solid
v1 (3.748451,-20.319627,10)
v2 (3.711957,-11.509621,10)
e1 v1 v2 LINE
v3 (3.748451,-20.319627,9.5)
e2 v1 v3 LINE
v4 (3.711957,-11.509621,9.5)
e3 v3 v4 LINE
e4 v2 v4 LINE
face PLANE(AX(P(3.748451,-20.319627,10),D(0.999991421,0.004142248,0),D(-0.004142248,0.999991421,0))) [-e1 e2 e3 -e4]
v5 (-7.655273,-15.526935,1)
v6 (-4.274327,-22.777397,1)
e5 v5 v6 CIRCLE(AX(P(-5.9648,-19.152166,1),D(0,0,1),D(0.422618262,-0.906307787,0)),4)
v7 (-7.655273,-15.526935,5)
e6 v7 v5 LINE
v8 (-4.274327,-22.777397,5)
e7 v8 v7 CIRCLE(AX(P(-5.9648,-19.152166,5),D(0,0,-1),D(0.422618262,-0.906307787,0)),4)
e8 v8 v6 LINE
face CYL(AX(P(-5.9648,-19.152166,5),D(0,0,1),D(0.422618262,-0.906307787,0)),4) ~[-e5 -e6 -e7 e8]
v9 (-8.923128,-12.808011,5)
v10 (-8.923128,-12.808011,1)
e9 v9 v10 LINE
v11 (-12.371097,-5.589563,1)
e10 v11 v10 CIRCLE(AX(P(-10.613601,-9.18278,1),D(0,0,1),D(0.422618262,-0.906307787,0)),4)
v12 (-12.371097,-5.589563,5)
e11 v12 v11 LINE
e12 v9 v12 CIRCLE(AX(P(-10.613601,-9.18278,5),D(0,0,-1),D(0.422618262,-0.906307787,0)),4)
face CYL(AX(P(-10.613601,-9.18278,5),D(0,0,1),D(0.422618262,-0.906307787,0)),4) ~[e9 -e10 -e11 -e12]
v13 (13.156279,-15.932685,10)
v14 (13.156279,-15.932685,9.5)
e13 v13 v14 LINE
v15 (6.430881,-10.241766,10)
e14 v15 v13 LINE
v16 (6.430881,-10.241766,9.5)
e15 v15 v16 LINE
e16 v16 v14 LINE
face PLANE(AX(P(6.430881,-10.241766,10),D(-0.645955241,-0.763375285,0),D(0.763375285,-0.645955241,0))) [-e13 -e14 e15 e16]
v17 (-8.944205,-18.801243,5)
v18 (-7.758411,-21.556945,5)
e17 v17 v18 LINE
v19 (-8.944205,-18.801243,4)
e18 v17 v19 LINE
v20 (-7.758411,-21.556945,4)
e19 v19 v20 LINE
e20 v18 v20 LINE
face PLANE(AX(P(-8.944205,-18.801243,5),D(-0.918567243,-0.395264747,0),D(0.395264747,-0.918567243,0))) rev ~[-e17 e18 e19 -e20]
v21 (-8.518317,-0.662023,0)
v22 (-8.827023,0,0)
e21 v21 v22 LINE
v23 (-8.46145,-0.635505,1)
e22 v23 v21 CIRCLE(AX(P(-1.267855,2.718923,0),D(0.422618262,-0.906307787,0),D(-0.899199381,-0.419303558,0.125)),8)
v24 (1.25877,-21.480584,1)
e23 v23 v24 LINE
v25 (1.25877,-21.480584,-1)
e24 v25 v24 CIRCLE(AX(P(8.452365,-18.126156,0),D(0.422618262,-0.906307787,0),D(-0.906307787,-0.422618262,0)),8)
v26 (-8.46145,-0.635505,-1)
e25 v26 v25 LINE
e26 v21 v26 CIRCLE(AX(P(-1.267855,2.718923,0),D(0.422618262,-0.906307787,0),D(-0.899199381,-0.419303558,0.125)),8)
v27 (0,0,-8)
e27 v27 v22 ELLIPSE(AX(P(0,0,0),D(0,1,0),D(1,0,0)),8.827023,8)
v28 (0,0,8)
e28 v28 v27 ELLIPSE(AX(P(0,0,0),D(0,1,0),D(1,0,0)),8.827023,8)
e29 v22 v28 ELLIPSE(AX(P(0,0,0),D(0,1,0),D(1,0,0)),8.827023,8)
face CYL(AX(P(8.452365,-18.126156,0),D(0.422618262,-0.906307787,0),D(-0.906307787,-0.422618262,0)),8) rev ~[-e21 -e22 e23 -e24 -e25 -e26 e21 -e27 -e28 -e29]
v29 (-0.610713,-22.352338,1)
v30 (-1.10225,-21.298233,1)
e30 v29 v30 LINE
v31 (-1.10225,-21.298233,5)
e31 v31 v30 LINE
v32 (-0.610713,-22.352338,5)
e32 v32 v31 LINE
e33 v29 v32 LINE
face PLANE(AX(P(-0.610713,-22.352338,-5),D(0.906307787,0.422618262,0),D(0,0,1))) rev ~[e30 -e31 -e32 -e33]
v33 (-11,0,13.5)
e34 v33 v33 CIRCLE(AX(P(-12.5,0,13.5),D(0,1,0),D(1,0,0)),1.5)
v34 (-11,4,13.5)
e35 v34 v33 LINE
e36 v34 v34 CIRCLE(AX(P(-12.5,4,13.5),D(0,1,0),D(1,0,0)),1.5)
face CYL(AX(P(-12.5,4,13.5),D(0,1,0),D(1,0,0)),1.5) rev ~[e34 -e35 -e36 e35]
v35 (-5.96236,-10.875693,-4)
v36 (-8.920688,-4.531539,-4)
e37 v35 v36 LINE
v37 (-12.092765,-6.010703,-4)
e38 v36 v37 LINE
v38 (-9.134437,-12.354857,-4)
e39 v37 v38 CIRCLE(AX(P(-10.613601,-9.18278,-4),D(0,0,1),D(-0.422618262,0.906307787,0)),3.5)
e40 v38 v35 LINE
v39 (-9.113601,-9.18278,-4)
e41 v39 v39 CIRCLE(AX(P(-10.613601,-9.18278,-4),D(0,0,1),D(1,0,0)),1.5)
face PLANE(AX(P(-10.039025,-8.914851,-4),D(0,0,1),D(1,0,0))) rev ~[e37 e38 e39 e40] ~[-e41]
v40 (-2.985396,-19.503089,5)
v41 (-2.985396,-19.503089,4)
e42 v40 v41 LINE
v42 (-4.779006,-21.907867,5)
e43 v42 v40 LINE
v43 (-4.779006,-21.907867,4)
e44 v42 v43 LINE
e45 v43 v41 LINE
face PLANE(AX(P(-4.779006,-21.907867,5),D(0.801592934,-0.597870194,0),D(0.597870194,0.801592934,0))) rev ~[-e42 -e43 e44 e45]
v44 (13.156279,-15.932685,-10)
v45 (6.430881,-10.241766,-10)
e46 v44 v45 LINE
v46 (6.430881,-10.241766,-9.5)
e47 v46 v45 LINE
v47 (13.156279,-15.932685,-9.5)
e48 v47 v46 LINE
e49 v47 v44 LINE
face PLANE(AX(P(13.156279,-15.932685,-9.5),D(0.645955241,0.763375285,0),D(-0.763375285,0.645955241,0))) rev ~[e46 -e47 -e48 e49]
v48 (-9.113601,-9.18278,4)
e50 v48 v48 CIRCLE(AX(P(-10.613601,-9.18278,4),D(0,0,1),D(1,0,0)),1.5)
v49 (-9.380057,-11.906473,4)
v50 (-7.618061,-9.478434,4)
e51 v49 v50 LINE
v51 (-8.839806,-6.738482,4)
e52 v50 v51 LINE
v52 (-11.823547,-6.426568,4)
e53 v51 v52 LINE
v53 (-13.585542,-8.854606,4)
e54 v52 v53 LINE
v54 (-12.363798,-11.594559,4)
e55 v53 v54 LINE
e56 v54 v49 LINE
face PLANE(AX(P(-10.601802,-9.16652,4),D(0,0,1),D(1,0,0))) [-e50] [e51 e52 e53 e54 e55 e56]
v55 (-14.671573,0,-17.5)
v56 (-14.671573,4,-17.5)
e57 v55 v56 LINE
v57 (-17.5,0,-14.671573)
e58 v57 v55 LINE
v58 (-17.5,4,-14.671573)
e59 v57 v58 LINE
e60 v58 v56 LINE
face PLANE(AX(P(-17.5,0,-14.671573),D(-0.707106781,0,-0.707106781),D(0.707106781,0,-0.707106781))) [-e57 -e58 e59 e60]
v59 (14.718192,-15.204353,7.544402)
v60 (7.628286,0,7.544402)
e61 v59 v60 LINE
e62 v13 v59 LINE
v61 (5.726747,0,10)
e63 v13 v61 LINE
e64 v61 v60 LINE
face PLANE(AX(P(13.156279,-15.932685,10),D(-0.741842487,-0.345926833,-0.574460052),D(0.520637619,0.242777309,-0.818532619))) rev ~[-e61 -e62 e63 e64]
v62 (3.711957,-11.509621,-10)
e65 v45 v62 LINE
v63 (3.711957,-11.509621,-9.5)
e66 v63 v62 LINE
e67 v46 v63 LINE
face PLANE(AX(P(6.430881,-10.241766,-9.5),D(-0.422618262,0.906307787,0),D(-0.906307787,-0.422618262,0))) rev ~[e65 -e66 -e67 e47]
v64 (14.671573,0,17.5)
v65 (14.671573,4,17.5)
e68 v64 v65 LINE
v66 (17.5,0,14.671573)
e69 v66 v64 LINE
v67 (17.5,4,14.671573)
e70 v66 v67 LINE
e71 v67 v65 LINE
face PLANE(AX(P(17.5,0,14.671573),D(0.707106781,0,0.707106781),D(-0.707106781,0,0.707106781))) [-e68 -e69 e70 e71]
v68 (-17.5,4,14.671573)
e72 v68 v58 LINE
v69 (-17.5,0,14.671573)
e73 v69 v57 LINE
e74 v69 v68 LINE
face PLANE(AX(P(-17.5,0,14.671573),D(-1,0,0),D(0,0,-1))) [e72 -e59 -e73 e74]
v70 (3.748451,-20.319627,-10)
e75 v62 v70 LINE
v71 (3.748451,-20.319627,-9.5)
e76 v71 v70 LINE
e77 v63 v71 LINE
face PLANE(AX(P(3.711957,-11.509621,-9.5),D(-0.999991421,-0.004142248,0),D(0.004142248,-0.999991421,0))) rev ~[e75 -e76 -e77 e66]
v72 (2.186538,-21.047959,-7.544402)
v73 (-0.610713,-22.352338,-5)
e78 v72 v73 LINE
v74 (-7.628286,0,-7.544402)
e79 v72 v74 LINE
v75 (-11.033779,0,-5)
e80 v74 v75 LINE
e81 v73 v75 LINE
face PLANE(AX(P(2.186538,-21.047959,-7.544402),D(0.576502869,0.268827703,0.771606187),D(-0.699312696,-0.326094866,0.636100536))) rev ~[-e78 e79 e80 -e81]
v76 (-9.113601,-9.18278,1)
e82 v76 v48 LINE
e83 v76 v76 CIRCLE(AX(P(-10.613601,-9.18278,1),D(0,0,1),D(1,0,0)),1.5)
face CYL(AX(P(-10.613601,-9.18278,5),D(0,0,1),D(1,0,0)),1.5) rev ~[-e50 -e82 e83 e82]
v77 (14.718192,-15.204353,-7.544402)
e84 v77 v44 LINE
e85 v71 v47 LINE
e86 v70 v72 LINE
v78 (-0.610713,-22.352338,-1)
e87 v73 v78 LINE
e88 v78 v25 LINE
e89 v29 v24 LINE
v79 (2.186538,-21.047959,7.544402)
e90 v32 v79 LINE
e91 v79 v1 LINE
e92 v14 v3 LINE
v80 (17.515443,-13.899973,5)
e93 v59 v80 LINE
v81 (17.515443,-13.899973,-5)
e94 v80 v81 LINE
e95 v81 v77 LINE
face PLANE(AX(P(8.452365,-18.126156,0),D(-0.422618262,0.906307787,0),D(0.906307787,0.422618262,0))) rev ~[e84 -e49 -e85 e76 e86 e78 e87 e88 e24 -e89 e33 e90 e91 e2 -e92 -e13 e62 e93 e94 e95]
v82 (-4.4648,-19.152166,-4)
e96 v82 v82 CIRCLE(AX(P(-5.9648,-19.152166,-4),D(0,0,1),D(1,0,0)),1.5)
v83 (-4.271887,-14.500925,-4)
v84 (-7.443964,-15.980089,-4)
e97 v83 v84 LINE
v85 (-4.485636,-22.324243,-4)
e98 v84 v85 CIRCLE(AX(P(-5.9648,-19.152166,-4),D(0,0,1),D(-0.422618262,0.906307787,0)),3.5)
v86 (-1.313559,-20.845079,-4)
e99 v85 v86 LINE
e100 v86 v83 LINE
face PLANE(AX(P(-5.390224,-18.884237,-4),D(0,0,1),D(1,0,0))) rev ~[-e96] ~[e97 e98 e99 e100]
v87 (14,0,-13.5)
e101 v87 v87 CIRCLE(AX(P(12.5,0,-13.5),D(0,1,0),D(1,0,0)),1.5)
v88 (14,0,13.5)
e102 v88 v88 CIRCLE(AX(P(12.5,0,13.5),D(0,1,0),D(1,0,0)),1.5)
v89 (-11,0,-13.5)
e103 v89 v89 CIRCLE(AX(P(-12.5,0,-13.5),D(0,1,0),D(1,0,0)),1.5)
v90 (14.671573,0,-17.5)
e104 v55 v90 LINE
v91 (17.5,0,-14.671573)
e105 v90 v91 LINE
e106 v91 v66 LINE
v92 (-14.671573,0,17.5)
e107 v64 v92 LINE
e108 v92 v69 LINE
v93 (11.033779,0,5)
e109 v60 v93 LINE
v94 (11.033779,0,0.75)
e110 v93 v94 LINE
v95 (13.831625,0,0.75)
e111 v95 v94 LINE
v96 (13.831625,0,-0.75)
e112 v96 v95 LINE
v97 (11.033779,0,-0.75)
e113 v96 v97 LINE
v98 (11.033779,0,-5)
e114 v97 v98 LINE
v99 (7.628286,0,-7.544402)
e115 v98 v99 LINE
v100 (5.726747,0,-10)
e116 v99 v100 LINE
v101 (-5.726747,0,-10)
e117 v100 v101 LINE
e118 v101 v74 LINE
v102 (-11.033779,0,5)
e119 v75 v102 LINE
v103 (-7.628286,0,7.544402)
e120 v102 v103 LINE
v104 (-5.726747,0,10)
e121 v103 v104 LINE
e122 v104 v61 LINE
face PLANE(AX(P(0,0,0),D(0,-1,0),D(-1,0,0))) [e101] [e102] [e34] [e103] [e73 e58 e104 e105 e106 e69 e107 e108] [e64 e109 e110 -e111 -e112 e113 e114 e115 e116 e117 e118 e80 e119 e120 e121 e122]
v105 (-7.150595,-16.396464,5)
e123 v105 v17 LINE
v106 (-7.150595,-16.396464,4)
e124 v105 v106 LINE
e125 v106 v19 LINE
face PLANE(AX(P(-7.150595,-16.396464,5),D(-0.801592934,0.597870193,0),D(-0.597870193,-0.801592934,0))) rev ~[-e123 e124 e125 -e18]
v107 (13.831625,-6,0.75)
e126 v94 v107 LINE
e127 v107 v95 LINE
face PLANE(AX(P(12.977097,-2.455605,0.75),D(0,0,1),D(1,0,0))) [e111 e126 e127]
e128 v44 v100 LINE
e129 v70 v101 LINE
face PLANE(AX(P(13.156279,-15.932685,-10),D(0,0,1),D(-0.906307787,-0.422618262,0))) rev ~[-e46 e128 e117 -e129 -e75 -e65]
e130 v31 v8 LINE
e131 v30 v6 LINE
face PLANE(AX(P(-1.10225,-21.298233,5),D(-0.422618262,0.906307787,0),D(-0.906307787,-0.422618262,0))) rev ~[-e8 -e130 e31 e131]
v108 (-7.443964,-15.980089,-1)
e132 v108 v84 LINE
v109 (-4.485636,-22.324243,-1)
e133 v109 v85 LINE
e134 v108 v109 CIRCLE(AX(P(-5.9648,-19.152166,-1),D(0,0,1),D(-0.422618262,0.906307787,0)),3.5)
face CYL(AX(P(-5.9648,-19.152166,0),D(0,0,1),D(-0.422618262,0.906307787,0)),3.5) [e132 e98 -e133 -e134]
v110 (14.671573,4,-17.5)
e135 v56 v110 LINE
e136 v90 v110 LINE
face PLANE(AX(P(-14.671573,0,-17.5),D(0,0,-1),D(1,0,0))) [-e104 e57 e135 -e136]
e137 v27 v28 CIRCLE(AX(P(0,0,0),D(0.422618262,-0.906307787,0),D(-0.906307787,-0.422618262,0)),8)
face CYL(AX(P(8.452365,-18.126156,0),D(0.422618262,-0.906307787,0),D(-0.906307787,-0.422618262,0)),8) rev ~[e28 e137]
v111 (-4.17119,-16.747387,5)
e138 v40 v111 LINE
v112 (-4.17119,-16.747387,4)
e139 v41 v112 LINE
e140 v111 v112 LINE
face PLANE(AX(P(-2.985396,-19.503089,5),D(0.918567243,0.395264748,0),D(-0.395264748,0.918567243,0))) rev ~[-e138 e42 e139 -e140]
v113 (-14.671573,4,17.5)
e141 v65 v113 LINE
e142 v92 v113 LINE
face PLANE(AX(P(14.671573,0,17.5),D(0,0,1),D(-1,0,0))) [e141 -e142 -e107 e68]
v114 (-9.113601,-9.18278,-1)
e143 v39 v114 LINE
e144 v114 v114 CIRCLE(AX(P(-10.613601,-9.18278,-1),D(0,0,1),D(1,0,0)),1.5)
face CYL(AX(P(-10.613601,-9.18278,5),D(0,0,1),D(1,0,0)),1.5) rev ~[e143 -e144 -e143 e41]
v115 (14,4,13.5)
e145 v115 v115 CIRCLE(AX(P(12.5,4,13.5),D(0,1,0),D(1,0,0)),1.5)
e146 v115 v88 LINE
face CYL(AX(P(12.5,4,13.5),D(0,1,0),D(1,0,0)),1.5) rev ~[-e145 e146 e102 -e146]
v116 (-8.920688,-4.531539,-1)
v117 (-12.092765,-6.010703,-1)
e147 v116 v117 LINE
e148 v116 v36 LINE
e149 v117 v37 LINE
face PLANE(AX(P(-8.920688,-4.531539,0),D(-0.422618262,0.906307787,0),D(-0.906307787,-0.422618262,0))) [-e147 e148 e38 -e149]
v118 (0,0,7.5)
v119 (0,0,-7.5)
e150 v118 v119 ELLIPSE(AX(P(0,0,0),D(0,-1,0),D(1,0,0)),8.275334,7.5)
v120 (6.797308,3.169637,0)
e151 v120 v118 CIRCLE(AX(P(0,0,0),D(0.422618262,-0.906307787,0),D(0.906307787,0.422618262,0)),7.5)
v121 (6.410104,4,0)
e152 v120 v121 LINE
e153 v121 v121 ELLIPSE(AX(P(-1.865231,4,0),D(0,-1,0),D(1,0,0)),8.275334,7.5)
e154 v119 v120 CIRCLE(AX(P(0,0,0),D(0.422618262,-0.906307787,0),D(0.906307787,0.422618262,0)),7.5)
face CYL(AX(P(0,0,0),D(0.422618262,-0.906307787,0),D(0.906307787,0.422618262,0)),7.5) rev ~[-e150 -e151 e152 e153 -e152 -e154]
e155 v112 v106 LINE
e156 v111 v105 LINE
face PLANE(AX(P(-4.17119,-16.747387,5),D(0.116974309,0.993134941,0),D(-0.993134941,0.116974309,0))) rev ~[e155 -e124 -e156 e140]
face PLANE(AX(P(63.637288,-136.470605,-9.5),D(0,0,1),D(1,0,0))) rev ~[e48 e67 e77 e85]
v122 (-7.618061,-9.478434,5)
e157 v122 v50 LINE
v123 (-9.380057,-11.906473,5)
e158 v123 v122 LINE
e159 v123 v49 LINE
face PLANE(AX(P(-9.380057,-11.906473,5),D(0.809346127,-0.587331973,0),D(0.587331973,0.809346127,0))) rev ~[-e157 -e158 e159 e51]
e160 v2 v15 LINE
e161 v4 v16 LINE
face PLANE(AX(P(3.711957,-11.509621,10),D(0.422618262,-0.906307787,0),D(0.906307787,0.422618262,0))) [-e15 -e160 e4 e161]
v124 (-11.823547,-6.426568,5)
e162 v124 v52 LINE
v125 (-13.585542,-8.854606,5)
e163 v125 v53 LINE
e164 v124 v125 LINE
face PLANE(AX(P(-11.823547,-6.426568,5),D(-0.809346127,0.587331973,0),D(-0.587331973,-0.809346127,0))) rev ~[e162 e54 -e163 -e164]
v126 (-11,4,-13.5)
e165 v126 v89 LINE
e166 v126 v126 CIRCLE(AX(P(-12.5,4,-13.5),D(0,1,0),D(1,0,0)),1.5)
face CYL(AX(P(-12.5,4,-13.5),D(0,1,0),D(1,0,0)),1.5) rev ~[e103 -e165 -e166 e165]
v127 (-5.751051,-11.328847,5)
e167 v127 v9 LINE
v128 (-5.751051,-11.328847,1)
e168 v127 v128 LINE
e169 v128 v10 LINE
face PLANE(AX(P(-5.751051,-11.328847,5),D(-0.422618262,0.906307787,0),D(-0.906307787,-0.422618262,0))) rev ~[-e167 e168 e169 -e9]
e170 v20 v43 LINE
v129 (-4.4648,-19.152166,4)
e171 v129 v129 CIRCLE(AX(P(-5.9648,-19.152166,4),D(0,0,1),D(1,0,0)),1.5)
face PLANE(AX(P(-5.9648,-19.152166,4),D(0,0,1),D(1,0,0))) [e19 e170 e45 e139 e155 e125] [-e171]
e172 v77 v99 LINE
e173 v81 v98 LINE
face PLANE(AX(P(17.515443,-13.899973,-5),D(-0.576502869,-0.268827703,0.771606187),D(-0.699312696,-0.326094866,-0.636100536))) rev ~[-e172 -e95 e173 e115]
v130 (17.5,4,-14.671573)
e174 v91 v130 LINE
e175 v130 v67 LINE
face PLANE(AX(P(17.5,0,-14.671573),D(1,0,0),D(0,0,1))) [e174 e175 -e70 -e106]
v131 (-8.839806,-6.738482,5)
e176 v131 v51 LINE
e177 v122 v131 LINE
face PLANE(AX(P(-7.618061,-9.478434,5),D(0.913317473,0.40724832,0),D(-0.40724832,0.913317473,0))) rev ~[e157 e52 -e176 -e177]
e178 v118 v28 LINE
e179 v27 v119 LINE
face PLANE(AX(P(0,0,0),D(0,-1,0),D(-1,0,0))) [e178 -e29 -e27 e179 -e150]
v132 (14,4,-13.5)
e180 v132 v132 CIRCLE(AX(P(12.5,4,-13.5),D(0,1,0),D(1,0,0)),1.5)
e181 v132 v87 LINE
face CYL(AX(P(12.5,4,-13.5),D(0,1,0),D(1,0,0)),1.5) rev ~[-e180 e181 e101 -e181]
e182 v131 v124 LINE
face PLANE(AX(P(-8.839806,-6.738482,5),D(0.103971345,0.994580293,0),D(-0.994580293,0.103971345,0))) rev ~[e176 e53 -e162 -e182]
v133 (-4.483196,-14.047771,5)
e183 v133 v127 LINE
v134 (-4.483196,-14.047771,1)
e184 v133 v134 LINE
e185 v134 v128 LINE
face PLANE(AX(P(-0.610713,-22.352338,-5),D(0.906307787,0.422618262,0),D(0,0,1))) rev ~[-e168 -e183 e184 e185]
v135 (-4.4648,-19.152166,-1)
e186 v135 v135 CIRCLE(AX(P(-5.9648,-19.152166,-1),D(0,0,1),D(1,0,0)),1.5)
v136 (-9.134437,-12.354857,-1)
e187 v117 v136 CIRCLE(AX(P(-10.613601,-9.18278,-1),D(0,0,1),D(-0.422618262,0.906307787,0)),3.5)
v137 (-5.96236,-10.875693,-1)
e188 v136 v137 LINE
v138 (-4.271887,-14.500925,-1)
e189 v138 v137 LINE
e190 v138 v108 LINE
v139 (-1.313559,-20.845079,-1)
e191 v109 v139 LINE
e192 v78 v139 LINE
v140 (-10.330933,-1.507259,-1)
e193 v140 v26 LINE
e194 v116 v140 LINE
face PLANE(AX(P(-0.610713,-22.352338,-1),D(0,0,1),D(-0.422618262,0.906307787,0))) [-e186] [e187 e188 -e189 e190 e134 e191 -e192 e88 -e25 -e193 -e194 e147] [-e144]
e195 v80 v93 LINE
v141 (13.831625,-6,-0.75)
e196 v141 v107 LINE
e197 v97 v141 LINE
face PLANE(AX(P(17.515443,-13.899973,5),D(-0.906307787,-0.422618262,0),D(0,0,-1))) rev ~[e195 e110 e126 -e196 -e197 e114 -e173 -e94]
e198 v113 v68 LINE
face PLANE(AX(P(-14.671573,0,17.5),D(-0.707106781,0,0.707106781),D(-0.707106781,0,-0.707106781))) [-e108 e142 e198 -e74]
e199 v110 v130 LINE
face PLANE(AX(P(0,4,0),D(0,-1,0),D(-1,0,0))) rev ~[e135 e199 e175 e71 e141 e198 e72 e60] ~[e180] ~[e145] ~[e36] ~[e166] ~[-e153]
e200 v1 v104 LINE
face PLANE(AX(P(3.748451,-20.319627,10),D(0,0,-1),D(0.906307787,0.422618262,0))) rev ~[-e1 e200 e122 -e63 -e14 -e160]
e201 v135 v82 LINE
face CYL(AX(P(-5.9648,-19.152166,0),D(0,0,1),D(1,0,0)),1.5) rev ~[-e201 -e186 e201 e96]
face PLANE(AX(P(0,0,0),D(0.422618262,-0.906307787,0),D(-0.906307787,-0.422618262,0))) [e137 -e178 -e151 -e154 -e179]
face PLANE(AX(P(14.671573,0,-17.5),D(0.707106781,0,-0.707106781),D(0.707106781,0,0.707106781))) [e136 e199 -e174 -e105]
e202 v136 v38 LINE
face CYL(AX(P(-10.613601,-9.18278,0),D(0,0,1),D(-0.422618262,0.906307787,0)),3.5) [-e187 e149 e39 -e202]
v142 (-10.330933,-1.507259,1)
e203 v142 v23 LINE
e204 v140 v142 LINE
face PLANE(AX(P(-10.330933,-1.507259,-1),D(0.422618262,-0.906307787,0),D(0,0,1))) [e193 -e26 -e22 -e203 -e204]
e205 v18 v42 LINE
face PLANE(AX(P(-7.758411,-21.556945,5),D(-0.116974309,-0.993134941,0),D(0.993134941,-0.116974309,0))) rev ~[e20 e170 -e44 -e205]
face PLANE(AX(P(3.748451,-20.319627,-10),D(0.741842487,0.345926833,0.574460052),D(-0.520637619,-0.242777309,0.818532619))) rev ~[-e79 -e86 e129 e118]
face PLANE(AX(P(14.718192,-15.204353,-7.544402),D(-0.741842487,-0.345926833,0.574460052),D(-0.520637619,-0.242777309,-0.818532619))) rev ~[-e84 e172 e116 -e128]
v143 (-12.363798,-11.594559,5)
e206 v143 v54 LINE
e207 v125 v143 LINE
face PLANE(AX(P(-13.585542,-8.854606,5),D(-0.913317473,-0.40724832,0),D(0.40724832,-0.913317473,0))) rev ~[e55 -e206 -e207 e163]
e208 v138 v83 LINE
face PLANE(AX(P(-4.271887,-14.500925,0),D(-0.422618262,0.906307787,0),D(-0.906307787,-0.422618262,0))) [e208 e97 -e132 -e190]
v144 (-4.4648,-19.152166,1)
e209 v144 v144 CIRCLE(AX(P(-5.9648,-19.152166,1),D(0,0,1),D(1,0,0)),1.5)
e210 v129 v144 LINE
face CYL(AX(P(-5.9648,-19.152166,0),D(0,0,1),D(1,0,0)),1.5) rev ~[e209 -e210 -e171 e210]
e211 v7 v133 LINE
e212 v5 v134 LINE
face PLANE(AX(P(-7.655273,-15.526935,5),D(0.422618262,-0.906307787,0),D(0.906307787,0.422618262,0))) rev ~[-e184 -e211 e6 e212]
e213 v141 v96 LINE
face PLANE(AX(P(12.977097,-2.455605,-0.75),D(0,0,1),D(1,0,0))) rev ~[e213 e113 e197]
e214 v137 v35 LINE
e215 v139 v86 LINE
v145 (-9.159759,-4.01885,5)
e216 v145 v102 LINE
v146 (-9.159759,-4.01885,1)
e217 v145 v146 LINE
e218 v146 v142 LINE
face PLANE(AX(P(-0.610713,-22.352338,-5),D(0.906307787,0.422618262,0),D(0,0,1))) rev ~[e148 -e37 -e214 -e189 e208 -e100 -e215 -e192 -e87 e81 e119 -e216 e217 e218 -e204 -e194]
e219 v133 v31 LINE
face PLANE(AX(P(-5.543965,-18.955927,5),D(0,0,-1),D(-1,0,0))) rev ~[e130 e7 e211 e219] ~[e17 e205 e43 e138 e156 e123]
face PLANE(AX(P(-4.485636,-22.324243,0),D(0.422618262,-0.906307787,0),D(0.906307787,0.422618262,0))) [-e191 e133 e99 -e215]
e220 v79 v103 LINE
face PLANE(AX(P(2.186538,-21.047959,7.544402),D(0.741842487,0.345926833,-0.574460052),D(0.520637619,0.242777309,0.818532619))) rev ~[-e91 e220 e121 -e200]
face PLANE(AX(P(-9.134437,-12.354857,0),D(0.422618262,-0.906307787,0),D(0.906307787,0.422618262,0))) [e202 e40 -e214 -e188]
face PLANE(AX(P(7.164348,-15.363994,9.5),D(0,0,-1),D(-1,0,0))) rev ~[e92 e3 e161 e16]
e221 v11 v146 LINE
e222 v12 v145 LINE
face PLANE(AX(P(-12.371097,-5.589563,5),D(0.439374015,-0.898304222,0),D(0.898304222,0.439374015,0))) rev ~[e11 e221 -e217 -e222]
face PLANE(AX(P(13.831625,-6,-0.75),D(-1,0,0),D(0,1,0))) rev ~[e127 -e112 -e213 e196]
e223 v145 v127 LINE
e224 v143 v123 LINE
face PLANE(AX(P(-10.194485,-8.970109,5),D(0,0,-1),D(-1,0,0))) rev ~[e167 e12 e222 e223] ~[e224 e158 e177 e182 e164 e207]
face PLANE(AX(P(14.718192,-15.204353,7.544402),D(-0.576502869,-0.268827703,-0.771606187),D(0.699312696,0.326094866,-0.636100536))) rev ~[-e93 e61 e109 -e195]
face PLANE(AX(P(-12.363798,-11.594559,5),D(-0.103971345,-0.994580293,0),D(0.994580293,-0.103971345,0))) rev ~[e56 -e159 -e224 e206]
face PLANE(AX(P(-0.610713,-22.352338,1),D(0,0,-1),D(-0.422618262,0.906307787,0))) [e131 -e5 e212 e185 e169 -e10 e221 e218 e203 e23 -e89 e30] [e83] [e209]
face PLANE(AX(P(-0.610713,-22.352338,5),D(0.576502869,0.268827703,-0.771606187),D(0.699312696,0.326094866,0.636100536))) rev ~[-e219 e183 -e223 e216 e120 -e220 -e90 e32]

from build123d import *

# Parameters (mm, degrees)
BOSS_EXTRUDE1_DEPTH            = 4
SKETCH2_R                      = 1.5
CUT_EXTRUDE1_DEPTH             = 26.069902273
BOSS_EXTRUDE2_REACH            = 56.739
SKETCH4_R                      = 8
SKETCH5_R                      = 8
CUT_EXTRUDE2_DEPTH             = 20
BOSS_EXTRUDE3_DEPTH            = 0.75
BOSS_EXTRUDE3_DEPTH_BACK       = 0.75
SKETCH8_R                      = 1.5
BOSS_EXTRUDE4_DEPTH            = 4
BOSS_EXTRUDE5_START            = 5
SKETCH9_R                      = 1.5
BOSS_EXTRUDE5_DEPTH            = 5
CUT_EXTRUDE3_REACH             = 39.025
CUT_EXTRUDE3_END_RADIUS        = 8
SKETCH10_W                     = 2
SKETCH10_H                     = 23
CUT_EXTRUDE3_DIRECTION_2_DEPTH = 38.025134912
CUT_EXTRUDE4_DEPTH             = 0.5
CUT_EXTRUDE5_DEPTH             = 40.98829237
CUT_EXTRUDE5_DEPTH_BACK        = 0.5
SKETCH13_R                     = 7.5
CUT_EXTRUDE6_DEPTH             = 34.897839558
SKETCH14_R                     = 1.5
CUT_EXTRUDE7_DEPTH             = 1


with BuildPart() as part:
    # Sketch1 → Boss-Extrude1 (new body)
    with BuildSketch(Plane(origin=(0, 0, 0), x_dir=(1, 0, 0), z_dir=(0, 1, 0))):
        Polygon((-17.5, 14.671572875), (-14.671572875, 17.5), (14.671572875, 17.5), (17.5, 14.671572875), (17.5, -14.671572875), (14.671572875, -17.5), (-14.671572875, -17.5), (-17.5, -14.671572875), align=None)
    extrude(amount=BOSS_EXTRUDE1_DEPTH)

    # Sketch2 → Cut-Extrude1 (cut, through all)
    with BuildSketch(Plane(origin=(0, 4, 0), x_dir=(1, 0, 0), z_dir=(0, 1, 0))):
        with Locations((-12.5, 13.5)):
            Circle(SKETCH2_R)
        with Locations((12.5, 13.5)):
            Circle(SKETCH2_R)
        with Locations((-12.5, -13.5)):
            Circle(SKETCH2_R)
        with Locations((12.5, -13.5)):
            Circle(SKETCH2_R)
    extrude(amount=-CUT_EXTRUDE1_DEPTH, mode=Mode.SUBTRACT)

    # Boss-Extrude2: up to this plane
    boss_extrude2_end = Plane(origin=(0, 0, 0), z_dir=(0, 1, 0))
    # Sketch4 → Boss-Extrude2 (add, up to the surface)
    with BuildSketch(Plane(origin=(8.452365235, -18.126155741, 0), x_dir=(-0.906307787036651, -0.42261826174069733, 0), z_dir=(0.4226182617406973, -0.9063077870366509, 0)), mode=Mode.PRIVATE) as boss_extrude2_sk1:
        Polygon((10, 5), (10, -5), (6.91357525, -7.544402143), (5.190195094, -10), (-5.190195094, -10), (-6.91357525, -7.544402143), (-10, -5), (-10, 5), (-6.91357525, 7.544402143), (-5.190195094, 10), (5.190195094, 10), (6.91357525, 7.544402143), align=None)
        Circle(SKETCH4_R, mode=Mode.SUBTRACT)
    boss_extrude2_tool1 = split(extrude(boss_extrude2_sk1.sketch, amount=-BOSS_EXTRUDE2_REACH, mode=Mode.PRIVATE), bisect_by=boss_extrude2_end, keep=Keep.BOTH, mode=Mode.PRIVATE)
    add(boss_extrude2_tool1.solids().sort_by_distance((-0.35437, -22.232804, 0))[0])

    # Sketch5 → Cut-Extrude2 (cut)
    with BuildSketch(Plane(origin=(8.452365235, -18.126155741, 0), x_dir=(-0.906307787036651, -0.42261826174069733, 0), z_dir=(0.4226182617406973, -0.9063077870366509, 0))):
        Circle(SKETCH5_R)
    extrude(amount=-CUT_EXTRUDE2_DEPTH, mode=Mode.SUBTRACT)

    # Sketch7 → Boss-Extrude3 (add, two sides: drawn at the far end of the back side and taken through both)
    with BuildSketch(Plane.XY.offset(-BOSS_EXTRUDE3_DEPTH_BACK)):
        Polygon((11.03377919, 0), (13.831625139, -6), (13.831625139, 0), align=None)
    extrude(amount=BOSS_EXTRUDE3_DEPTH + BOSS_EXTRUDE3_DEPTH_BACK)

    # Sketch8 → Boss-Extrude4 (add)
    # profile 1 of 2: a face of its own
    with BuildSketch(Plane.XY):
        with BuildLine():
            Line((-4.271887002, -14.500924593), (-7.443964256, -15.980088509))
            ThreePointArc((-7.443964256, -15.980088509), (-9.136877595, -20.631329679), (-4.485636424, -22.324243018))
            Line((-4.485636424, -22.324243018), (-1.31355917, -20.845079102))
            Line((-1.31355917, -20.845079102), (-4.271887002, -14.500924593))
        make_face()
        with Locations((-5.96480034, -19.152165763)):
            Circle(SKETCH8_R, mode=Mode.SUBTRACT)
    # profile 2 of 2: a face of its own
    with BuildSketch(Plane.XY):
        with BuildLine():
            Line((-9.134437303, -12.354857361), (-5.962360049, -10.875693444))
            Line((-5.962360049, -10.875693444), (-8.920687881, -4.531538935))
            Line((-8.920687881, -4.531538935), (-12.092765136, -6.010702851))
            ThreePointArc((-12.092765136, -6.010702851), (-13.785678474, -10.661944022), (-9.134437303, -12.354857361))
        make_face()
        with Locations((-10.613601219, -9.182780106)):
            Circle(SKETCH8_R, mode=Mode.SUBTRACT)
    extrude(amount=-BOSS_EXTRUDE4_DEPTH)

    # Sketch9 → Boss-Extrude5 (add)
    # profile 1 of 2: a face of its own
    with BuildSketch(Plane.XY.offset(BOSS_EXTRUDE5_START)):
        with BuildLine():
            Line((-12.371097281, -5.589563219), (-9.159758839, -4.01884961))
            Line((-9.159758839, -4.01884961), (-5.751050918, -11.328847338))
            Line((-5.751050918, -11.328847338), (-8.923128172, -12.808011254))
            ThreePointArc((-8.923128172, -12.808011254), (-14.22298081, -10.906838971), (-12.371097281, -5.589563219))
        make_face()
        with Locations((-10.613601219, -9.182780106)):
            Circle(SKETCH9_R, mode=Mode.SUBTRACT)
    # profile 2 of 2: a face of its own
    with BuildSketch(Plane.XY.offset(BOSS_EXTRUDE5_START)):
        with BuildLine():
            Line((-7.655273387, -15.526934615), (-4.483196133, -14.047770699))
            Line((-4.483196133, -14.047770699), (-1.102250039, -21.298232995))
            Line((-1.102250039, -21.298232995), (-4.274327293, -22.777396911))
            ThreePointArc((-4.274327293, -22.777396911), (-9.590031488, -20.84263881), (-7.655273387, -15.526934615))
        make_face()
        with Locations((-5.96480034, -19.152165763)):
            Circle(SKETCH9_R, mode=Mode.SUBTRACT)
    extrude(amount=-BOSS_EXTRUDE5_DEPTH)

    # Cut-Extrude3: up to this cylinder (the profile starts outside it)
    cut_extrude3_end = Plane(origin=(3.592255235, -7.703616212, 0), z_dir=(0.4226182617406974, -0.906307787036651, 0)) * Cylinder(CUT_EXTRUDE3_END_RADIUS, 95.05, mode=Mode.PRIVATE)
    # Sketch10 → Cut-Extrude3 (cut, up to the surface)
    with BuildSketch(Plane(origin=(-9.06307787, -4.226182617, 0), x_dir=(0, 0, 1), z_dir=(-0.9063077870366509, -0.42261826174069744, 0)), mode=Mode.PRIVATE) as cut_extrude3_sk1:
        with Locations((0, -8.5)):
            Rectangle(SKETCH10_W, SKETCH10_H)
    cut_extrude3_tool1 = extrude(cut_extrude3_sk1.sketch, amount=-CUT_EXTRUDE3_REACH, mode=Mode.PRIVATE) - cut_extrude3_end
    add(cut_extrude3_tool1.solids().sort_by_distance((-5.470823, -11.929799, 0))[0], mode=Mode.SUBTRACT)

    # Sketch10 → Cut-Extrude3 direction 2 (cut)
    with BuildSketch(Plane(origin=(-9.06307787, -4.226182617, 0), x_dir=(0, 0, 1), z_dir=(-0.9063077870366509, -0.42261826174069744, 0))):
        with Locations((0, -8.5)):
            Rectangle(SKETCH10_W, SKETCH10_H)
    extrude(amount=CUT_EXTRUDE3_DIRECTION_2_DEPTH, mode=Mode.SUBTRACT)

    # Sketch11 → Cut-Extrude4 (cut)
    with BuildSketch(Plane.XY.offset(10)):
        Polygon((3.748451005, -20.319626969), (3.71195746, -11.509620837), (6.430880821, -10.241766052), (13.156279465, -15.932684512), align=None)
    extrude(amount=-CUT_EXTRUDE4_DEPTH, mode=Mode.SUBTRACT)

    # Sketch12 → Cut-Extrude5 (cut, two sides: drawn at the far end of the back side and taken through both)
    with BuildSketch(Plane(origin=(0, 0, -10), x_dir=(-1, 0, 0), z_dir=(0, 0, -1)).offset(-CUT_EXTRUDE5_DEPTH_BACK)):
        Polygon((-76.618175431, -69.633066368), (-13.156279465, -15.932684512), (-6.430880821, -10.241766052), (-3.71195746, -11.509620837), (-3.748451005, -20.319626969), (-4.092809705, -103.452199816), (-74.3600994, -254.140888852), (-146.885465125, -220.321755404), align=None)
    extrude(amount=CUT_EXTRUDE5_DEPTH + CUT_EXTRUDE5_DEPTH_BACK, mode=Mode.SUBTRACT)

    # Sketch13 → Cut-Extrude6 (cut, through all)
    with BuildSketch(Plane(origin=(0, 0, 0), x_dir=(0.9063077870366509, 0.4226182617406975, 0), z_dir=(0.4226182617406975, -0.9063077870366509, 0))):
        Circle(SKETCH13_R)
    extrude(amount=-CUT_EXTRUDE6_DEPTH, mode=Mode.SUBTRACT)

    # Sketch14 → Cut-Extrude7 (cut)
    # profile 1 of 2: a face of its own
    with BuildSketch(Plane.XY.offset(5)):
        Polygon((-12.363797533, -11.594558579), (-9.380056654, -11.906472615), (-7.618060736, -9.478434233), (-8.839805697, -6.738481815), (-11.823546576, -6.42656778), (-13.585542494, -8.854606161), align=None)
        with Locations((-10.613601219, -9.182780106)):
            Circle(SKETCH14_R, mode=Mode.SUBTRACT)
    # profile 2 of 2: a face of its own
    with BuildSketch(Plane.XY.offset(5)):
        Polygon((-7.758410921, -21.556944565), (-4.779006098, -21.907867491), (-2.985395517, -19.50308869), (-4.17118976, -16.747386962), (-7.150594583, -16.396464035), (-8.944205163, -18.801242837), align=None)
    extrude(amount=-CUT_EXTRUDE7_DEPTH, mode=Mode.SUBTRACT)


solid = part.part
